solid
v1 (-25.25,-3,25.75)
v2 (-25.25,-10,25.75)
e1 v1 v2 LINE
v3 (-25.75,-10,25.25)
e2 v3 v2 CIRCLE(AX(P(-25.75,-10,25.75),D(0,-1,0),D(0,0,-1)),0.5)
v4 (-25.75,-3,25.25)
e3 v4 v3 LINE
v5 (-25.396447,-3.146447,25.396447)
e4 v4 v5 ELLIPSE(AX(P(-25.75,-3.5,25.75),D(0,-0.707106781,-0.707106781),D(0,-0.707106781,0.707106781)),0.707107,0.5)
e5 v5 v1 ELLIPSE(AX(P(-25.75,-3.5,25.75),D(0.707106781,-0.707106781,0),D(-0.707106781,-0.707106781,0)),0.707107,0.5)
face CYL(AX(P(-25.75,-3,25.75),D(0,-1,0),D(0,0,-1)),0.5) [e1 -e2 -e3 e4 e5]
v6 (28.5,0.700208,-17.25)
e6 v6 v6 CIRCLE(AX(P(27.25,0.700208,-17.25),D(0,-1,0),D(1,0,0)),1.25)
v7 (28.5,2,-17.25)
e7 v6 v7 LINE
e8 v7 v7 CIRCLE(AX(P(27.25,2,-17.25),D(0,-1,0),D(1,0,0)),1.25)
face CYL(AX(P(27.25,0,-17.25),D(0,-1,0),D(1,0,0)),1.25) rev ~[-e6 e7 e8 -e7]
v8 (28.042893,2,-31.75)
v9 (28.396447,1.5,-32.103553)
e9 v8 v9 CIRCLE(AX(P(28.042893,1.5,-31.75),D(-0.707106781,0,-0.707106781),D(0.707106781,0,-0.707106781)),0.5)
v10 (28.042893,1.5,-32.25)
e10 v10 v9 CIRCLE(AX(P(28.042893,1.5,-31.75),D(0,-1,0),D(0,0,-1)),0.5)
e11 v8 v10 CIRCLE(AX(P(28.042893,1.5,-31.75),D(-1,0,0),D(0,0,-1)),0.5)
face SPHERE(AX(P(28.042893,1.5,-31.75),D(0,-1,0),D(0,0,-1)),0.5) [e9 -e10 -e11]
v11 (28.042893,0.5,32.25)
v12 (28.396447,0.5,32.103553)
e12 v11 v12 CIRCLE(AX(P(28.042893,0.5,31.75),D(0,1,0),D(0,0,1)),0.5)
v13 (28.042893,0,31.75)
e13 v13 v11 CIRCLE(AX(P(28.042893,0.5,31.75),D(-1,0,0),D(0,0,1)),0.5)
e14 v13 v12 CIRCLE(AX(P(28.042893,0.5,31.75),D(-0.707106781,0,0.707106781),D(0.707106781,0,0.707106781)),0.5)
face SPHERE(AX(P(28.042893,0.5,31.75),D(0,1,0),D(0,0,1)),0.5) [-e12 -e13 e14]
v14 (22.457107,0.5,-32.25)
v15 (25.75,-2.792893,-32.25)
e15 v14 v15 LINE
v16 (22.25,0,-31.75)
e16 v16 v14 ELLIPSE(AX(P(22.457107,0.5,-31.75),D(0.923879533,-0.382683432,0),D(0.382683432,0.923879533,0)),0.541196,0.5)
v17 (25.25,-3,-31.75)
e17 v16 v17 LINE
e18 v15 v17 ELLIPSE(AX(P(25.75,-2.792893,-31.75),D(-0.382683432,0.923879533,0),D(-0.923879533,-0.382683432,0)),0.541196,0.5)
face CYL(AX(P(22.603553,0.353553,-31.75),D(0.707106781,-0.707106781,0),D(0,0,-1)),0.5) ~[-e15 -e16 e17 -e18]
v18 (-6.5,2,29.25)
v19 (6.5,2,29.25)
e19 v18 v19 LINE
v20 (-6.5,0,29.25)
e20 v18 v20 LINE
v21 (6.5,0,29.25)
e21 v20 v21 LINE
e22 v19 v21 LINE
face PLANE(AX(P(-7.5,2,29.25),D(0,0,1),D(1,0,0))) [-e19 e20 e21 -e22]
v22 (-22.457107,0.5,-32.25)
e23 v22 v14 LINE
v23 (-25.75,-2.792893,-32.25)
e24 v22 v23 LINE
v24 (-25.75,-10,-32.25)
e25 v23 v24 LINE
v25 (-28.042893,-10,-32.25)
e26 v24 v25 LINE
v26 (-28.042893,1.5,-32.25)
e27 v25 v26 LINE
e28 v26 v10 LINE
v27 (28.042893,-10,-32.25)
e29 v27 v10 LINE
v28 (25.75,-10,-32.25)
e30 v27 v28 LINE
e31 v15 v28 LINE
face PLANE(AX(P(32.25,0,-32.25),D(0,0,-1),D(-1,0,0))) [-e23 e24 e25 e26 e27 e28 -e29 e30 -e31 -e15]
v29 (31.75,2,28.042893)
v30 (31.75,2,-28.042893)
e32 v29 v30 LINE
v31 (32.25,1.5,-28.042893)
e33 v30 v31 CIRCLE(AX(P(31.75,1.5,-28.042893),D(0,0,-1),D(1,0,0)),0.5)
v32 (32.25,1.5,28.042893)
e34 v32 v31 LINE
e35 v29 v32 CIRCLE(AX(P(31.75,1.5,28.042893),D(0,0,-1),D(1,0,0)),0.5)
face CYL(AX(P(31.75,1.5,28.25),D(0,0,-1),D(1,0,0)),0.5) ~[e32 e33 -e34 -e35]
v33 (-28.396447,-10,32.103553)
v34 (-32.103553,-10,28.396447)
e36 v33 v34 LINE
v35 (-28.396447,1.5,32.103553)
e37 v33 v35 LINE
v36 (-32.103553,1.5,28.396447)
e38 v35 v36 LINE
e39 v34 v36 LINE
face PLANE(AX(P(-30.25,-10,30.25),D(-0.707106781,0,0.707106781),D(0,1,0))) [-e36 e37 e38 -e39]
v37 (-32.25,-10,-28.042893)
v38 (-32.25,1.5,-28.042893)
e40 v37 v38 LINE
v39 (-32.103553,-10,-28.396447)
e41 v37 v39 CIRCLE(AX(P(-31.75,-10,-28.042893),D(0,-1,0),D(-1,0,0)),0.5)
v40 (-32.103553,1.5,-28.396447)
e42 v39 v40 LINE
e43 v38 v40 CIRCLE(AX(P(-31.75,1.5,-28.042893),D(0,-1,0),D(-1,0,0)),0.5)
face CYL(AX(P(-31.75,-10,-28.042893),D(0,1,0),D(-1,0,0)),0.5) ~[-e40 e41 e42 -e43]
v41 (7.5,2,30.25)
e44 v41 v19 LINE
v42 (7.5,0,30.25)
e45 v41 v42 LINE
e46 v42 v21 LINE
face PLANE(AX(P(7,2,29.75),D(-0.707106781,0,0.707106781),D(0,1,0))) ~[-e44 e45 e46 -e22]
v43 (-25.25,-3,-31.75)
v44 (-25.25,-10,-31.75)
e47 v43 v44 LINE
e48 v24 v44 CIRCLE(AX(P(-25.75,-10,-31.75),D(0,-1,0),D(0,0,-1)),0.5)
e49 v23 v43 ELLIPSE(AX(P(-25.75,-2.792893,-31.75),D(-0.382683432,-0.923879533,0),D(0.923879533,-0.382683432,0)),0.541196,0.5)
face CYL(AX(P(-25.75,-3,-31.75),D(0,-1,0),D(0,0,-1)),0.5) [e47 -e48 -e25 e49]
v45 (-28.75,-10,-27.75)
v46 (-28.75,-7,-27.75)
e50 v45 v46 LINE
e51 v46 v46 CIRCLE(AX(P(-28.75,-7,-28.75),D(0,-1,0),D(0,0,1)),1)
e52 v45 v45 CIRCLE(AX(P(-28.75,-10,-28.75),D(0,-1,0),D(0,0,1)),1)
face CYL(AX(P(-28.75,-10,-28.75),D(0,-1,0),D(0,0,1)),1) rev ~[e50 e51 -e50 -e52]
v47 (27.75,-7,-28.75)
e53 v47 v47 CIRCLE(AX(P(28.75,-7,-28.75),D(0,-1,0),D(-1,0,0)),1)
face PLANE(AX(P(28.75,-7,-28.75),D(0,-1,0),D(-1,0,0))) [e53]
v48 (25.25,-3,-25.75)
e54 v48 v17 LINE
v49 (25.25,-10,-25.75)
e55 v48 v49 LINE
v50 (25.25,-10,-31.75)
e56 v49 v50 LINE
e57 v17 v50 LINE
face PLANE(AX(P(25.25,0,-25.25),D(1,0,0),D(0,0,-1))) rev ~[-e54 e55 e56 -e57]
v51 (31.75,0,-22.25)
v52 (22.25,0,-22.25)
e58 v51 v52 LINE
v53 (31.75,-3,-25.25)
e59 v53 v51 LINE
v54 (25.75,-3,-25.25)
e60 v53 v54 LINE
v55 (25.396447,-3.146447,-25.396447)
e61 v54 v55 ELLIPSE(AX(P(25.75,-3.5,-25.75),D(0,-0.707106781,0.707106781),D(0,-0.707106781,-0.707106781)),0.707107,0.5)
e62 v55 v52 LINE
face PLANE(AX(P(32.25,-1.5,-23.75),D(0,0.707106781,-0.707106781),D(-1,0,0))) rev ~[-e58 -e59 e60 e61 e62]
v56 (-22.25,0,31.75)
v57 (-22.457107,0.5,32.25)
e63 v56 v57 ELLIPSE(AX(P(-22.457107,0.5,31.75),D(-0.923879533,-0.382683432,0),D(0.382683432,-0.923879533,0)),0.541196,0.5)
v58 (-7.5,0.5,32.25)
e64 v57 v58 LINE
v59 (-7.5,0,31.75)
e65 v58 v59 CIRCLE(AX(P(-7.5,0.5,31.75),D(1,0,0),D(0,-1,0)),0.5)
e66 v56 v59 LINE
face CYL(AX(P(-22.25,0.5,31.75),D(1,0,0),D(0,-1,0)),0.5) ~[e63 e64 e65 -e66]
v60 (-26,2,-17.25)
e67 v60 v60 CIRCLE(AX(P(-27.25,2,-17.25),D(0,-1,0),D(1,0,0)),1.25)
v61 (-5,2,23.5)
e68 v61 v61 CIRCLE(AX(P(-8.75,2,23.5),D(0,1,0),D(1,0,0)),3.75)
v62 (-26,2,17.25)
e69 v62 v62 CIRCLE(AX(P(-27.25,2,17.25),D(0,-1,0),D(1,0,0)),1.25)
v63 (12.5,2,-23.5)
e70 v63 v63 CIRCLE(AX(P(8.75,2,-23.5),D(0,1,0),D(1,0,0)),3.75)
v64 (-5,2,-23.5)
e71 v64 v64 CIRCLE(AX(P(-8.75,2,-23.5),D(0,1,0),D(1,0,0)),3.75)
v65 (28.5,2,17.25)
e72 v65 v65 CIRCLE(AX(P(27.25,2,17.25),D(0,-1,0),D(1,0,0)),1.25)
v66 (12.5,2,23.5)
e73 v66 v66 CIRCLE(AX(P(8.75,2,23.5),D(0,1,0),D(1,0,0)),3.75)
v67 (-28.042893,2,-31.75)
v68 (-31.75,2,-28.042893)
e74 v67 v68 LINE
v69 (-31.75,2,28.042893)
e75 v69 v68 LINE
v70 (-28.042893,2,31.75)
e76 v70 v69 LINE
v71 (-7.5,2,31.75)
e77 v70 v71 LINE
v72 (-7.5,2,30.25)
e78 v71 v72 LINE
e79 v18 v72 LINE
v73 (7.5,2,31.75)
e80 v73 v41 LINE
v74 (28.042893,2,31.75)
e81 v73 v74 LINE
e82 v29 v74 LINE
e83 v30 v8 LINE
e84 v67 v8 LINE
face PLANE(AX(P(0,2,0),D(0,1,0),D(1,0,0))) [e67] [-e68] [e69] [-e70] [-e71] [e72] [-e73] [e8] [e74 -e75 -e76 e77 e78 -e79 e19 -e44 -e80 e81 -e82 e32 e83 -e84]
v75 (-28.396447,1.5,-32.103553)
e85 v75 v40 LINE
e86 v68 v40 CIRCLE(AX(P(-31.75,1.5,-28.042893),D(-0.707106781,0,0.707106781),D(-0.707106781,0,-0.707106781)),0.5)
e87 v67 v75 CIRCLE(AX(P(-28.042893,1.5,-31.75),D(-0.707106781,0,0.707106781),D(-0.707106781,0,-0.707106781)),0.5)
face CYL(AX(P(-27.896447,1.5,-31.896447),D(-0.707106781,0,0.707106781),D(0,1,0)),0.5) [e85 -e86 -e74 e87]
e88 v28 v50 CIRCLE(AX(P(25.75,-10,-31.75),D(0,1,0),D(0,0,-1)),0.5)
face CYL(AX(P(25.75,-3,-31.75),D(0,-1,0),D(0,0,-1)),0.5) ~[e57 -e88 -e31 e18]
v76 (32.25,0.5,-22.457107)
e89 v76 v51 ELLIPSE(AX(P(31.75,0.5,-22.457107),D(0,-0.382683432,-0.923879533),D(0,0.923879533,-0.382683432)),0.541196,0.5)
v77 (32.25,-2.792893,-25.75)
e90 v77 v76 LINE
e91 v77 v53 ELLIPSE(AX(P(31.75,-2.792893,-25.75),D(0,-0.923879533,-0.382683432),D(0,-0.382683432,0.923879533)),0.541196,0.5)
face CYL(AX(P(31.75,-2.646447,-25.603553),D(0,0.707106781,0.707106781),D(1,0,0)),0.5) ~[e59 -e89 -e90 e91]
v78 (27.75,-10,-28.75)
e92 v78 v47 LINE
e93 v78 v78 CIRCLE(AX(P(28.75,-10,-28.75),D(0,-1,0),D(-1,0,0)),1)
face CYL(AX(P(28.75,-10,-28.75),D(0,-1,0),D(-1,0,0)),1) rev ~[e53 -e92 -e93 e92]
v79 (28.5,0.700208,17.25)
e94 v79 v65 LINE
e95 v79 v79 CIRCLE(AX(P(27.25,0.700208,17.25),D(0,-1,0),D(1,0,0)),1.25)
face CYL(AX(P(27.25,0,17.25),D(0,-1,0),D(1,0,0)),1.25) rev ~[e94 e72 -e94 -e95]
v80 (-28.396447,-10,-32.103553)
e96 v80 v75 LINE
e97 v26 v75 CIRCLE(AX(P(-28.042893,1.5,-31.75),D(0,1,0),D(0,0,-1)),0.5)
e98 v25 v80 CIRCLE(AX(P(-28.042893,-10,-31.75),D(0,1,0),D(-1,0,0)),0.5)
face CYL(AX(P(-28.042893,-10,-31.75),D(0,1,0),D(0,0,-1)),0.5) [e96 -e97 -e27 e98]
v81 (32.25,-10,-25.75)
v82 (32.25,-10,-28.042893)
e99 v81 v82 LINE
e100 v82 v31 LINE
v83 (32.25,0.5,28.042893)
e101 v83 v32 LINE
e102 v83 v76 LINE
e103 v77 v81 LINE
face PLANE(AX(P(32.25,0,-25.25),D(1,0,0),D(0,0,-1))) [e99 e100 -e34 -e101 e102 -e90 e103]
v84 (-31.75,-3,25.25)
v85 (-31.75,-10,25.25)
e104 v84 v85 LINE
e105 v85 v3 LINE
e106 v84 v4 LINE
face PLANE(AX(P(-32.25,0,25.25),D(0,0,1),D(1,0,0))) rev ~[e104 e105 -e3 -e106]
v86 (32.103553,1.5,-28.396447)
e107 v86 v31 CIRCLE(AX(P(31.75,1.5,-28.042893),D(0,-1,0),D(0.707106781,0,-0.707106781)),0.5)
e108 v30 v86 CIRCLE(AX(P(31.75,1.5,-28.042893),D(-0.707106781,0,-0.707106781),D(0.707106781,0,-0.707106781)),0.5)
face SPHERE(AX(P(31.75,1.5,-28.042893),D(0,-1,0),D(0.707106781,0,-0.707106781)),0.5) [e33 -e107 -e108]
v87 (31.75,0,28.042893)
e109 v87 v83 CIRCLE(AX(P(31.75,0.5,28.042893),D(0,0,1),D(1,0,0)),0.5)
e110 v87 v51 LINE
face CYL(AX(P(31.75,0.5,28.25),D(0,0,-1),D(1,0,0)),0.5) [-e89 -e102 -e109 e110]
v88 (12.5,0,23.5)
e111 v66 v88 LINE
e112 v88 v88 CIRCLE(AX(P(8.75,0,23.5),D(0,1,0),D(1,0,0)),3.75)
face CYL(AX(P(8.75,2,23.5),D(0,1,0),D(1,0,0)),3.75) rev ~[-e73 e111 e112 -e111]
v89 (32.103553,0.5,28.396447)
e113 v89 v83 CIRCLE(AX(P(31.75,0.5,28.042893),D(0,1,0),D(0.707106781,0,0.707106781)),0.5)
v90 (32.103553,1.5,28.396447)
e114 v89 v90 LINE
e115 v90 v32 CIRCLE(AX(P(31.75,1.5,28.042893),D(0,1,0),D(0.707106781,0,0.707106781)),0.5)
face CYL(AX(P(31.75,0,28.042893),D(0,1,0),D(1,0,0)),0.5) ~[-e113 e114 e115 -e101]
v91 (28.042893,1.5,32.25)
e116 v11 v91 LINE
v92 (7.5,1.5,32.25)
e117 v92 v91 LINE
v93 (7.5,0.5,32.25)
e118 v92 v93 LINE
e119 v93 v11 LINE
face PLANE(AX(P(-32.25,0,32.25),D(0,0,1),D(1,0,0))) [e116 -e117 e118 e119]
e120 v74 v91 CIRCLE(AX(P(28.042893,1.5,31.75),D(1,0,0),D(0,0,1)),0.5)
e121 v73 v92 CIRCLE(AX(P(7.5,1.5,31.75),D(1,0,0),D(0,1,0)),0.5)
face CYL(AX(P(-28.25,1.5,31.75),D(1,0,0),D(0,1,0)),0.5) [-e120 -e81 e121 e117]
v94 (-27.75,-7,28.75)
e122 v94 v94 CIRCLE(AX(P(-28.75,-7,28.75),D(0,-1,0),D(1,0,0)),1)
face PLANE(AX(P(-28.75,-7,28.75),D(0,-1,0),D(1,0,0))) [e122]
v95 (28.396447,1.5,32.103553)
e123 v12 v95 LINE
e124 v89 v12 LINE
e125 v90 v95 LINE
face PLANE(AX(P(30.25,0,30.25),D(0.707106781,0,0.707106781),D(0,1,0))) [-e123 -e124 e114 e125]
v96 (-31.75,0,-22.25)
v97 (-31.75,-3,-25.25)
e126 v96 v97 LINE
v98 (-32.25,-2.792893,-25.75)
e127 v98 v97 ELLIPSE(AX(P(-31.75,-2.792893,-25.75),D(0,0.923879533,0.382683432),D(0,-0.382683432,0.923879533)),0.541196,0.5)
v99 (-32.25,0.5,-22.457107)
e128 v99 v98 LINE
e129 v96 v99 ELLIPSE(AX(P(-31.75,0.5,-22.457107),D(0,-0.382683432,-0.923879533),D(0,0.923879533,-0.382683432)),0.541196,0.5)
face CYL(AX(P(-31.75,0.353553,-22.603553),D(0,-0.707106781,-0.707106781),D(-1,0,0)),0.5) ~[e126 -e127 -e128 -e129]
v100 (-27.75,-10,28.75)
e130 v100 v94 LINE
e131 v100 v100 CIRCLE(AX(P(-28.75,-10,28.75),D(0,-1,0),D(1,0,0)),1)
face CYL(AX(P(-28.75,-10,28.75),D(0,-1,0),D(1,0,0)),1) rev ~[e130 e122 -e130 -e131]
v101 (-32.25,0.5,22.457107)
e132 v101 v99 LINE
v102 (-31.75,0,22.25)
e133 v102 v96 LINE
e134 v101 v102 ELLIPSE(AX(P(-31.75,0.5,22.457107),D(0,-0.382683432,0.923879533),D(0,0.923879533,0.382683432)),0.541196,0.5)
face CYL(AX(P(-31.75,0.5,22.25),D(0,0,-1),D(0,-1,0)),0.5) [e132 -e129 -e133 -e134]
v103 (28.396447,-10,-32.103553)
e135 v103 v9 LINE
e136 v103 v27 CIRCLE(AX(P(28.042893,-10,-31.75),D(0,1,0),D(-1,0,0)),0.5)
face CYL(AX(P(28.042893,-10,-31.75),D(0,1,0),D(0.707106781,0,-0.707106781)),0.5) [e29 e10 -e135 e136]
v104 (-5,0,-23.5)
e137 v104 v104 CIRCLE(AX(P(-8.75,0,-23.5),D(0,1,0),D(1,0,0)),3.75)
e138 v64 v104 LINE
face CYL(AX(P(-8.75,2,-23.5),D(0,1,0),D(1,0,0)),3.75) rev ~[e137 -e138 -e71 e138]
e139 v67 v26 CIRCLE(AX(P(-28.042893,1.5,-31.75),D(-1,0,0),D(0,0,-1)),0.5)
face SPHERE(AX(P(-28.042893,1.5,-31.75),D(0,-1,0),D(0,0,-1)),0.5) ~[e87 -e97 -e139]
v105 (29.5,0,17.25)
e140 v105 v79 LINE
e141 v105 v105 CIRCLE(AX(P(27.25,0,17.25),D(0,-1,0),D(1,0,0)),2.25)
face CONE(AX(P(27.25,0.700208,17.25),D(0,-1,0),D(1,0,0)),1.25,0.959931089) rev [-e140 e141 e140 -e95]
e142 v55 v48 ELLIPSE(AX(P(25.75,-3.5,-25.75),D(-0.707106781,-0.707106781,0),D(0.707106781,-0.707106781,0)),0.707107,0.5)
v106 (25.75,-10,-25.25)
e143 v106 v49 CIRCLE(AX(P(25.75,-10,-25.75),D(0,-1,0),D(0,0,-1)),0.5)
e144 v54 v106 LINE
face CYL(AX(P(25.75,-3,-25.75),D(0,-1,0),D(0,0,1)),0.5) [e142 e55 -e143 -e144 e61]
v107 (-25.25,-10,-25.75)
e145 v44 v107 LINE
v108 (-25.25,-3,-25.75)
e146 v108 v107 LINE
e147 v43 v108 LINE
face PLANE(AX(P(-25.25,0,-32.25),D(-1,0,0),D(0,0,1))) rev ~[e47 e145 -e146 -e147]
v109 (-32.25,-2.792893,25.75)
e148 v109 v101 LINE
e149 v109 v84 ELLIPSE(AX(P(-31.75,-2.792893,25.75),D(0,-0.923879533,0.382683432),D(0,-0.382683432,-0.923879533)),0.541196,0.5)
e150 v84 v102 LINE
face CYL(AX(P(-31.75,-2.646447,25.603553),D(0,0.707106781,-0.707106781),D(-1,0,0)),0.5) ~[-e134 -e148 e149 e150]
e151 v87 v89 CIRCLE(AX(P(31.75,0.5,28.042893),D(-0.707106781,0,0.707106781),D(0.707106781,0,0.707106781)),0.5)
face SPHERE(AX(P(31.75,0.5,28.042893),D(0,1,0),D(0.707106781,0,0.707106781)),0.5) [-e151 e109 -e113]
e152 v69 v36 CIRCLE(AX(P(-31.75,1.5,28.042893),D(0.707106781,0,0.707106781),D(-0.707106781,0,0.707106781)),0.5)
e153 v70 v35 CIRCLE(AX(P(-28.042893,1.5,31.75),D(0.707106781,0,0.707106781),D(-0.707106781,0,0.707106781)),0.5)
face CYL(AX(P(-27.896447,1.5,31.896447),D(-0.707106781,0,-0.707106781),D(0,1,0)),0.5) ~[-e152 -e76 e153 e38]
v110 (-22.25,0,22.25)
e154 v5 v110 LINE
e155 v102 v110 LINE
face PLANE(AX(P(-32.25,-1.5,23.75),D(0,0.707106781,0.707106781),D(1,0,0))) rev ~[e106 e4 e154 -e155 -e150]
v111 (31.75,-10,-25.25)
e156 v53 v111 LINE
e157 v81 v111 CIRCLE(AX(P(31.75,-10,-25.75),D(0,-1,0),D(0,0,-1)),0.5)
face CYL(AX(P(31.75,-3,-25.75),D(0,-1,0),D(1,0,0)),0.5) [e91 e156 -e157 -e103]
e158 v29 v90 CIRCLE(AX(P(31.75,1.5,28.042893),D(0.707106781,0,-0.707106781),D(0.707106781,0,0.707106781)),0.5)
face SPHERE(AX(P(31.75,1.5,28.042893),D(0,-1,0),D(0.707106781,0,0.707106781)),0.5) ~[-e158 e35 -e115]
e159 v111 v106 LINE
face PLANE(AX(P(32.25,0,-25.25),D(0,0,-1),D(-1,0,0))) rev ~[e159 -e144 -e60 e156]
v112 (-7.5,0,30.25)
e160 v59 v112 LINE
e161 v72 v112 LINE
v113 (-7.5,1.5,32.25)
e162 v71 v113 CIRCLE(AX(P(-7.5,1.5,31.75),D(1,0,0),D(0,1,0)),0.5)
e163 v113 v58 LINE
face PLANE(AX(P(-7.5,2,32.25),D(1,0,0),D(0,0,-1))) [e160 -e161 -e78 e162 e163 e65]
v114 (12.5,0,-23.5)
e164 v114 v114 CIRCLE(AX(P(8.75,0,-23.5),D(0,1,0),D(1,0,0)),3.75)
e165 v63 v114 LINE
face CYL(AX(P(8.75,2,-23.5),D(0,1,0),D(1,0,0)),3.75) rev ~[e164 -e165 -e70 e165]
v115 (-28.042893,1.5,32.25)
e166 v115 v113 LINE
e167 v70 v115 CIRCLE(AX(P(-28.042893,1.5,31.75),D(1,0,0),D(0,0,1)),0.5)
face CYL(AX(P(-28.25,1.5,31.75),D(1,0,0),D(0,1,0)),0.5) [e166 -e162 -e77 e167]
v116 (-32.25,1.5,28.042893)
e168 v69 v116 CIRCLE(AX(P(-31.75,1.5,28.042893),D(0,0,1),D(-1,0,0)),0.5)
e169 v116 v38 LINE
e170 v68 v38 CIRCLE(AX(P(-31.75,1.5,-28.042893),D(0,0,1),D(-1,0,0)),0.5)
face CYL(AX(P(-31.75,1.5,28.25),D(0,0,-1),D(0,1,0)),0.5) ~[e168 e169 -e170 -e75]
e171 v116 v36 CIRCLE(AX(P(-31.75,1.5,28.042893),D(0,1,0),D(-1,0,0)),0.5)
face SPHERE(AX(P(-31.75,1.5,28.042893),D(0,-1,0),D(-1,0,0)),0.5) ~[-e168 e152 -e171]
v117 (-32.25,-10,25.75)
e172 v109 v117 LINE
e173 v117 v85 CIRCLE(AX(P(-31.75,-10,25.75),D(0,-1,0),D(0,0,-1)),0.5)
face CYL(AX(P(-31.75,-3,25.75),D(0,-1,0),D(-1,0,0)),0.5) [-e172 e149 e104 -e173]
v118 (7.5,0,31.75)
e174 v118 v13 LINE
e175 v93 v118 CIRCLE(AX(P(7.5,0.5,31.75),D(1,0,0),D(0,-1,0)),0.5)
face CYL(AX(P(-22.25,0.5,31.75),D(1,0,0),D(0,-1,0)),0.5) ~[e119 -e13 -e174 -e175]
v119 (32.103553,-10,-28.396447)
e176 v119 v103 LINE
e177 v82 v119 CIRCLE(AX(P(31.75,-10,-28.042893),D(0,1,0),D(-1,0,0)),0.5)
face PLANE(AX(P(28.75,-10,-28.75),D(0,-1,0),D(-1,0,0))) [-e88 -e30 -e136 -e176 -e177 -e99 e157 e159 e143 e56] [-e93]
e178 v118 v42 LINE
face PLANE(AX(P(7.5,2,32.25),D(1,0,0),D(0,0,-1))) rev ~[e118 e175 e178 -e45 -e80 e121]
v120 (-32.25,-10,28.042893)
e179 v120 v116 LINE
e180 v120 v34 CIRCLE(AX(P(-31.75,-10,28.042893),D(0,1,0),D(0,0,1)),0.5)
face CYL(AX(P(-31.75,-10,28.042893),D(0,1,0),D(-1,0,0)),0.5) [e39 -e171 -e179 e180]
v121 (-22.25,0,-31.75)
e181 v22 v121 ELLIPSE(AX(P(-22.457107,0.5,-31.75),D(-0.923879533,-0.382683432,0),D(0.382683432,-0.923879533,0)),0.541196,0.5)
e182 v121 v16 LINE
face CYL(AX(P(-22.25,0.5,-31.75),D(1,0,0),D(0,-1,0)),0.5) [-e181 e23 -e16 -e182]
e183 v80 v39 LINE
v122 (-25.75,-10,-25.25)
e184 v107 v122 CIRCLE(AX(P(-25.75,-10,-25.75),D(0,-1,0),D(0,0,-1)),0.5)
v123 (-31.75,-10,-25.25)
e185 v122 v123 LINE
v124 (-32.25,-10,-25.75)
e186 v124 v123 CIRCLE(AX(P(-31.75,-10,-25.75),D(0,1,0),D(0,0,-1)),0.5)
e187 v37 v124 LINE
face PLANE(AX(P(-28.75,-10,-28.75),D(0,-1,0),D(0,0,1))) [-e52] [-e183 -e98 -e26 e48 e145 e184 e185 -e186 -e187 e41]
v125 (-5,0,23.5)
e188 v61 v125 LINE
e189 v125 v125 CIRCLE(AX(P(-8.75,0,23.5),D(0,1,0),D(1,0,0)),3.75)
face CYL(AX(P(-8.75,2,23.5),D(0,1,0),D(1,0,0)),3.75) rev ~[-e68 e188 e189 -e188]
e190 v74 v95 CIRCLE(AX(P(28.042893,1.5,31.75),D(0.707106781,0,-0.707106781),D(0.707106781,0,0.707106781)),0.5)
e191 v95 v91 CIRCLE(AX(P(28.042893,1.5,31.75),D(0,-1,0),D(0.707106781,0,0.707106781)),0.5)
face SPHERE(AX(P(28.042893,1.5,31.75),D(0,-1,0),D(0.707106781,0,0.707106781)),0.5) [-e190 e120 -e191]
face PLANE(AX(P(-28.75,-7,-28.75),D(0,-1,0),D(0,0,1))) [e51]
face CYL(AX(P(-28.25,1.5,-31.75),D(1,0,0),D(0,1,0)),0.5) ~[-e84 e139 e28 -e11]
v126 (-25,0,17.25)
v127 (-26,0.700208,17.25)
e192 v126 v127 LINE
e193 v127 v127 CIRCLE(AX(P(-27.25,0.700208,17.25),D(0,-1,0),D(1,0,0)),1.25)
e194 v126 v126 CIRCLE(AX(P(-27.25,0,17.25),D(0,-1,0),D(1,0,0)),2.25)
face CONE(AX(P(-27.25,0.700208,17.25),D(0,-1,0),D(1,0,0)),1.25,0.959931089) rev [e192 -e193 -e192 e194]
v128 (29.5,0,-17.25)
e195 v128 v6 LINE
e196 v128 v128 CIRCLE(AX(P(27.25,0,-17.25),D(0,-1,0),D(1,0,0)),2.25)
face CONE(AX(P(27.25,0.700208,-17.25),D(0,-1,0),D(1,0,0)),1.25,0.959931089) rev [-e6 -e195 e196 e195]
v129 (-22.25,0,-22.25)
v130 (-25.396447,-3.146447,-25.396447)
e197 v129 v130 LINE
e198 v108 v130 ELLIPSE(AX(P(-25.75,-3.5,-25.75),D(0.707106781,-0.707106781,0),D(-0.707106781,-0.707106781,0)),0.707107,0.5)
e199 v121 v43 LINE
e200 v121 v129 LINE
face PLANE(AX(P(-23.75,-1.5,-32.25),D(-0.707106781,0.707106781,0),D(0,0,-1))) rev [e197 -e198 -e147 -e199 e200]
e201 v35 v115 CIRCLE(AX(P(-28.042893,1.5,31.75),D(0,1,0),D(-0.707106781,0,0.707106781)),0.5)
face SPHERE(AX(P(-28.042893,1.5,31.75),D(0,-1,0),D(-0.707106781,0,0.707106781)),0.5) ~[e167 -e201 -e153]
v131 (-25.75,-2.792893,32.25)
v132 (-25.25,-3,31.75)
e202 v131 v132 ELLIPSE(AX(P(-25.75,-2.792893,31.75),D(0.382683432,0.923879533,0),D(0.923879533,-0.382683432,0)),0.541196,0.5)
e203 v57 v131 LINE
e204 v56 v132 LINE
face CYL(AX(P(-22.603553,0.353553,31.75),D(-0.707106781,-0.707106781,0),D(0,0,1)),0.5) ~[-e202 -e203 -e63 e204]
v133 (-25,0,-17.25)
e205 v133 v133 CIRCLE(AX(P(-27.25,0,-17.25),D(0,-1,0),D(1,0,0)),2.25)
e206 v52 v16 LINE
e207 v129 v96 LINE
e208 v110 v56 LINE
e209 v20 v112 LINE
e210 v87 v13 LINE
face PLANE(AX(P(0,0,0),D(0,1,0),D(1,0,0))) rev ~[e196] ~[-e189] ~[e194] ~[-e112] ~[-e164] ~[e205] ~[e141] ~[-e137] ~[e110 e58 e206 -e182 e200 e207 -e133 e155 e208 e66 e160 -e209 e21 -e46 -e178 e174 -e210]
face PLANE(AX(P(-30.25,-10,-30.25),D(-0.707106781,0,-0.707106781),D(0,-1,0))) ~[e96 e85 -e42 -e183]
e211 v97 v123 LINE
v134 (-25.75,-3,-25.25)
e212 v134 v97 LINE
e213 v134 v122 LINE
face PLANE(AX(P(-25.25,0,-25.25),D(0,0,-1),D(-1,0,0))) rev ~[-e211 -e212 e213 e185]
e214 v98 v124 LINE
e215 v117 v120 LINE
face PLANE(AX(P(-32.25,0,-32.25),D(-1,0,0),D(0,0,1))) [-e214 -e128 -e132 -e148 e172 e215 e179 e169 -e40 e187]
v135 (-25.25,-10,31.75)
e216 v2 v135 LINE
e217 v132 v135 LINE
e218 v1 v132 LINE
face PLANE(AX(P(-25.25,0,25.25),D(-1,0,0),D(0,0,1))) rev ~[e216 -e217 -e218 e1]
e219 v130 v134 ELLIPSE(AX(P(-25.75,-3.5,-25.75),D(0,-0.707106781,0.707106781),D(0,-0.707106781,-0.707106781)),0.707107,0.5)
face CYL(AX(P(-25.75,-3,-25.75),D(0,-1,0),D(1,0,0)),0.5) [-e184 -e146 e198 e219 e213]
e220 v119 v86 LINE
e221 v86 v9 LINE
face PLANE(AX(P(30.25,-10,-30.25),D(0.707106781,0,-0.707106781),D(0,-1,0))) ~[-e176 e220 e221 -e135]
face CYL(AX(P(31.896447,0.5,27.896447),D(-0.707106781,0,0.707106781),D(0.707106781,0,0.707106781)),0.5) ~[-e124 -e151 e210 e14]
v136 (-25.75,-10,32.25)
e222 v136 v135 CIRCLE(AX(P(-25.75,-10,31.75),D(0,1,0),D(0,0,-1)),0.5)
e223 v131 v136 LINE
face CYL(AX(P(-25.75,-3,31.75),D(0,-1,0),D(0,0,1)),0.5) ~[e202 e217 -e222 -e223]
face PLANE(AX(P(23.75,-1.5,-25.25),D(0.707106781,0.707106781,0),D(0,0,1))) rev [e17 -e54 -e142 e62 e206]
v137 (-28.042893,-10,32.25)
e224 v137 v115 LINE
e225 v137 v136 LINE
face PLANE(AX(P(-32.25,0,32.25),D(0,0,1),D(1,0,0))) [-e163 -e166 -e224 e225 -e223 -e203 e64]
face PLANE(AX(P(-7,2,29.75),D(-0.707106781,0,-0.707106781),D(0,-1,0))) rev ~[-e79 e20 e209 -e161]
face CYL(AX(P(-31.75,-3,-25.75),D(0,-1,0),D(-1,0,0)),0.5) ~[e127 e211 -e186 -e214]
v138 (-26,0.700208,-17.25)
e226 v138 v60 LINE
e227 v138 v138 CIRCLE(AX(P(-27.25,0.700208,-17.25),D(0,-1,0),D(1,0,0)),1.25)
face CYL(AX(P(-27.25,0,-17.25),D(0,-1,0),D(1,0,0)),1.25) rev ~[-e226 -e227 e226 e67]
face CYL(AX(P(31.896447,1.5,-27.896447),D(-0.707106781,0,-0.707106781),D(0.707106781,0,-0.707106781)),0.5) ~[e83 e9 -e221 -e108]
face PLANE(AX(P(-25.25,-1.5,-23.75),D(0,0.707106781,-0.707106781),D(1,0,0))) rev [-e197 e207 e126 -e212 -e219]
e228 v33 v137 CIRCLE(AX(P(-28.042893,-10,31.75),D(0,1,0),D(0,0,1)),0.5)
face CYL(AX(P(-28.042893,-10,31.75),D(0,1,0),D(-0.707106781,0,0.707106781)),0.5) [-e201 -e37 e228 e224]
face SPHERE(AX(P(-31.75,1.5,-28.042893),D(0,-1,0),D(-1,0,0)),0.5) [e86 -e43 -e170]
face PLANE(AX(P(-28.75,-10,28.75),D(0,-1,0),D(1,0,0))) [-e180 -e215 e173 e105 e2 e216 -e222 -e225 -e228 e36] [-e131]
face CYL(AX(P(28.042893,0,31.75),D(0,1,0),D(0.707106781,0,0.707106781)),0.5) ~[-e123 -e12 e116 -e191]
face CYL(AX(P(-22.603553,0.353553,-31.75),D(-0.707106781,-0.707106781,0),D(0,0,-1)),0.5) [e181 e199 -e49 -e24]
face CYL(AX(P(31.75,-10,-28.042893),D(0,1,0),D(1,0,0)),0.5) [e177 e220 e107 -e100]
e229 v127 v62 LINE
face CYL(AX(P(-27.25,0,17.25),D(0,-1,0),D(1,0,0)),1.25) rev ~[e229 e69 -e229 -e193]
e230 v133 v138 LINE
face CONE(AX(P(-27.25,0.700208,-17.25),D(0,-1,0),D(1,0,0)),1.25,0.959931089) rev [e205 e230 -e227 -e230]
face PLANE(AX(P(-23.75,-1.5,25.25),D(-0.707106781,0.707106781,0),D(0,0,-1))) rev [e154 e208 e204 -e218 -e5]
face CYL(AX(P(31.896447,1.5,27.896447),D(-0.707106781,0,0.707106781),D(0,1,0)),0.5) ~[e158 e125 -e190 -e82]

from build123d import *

# Parameters (mm, degrees)
SKETCH2_W                    = 64.5
SKETCH2_H                    = 64.5
BOSS_EXTRUDE1_DEPTH          = 2
SKETCH3_W                    = 7
SKETCH3_H                    = 7
BOSS_EXTRUDE2_DEPTH          = 10
SKETCH6_R                    = 1
CUT_EXTRUDE2_DEPTH           = 3
CHAMFER3_SIZE                = 3
CIRPATTERN1_COUNT            = 3
CIRPATTERN1_ANGLE            = 180
CHAMFER3_OF_CIRPATTERN1_SIZE = 3
CHAMFER8_SIZE                = 4
FILLET4_R                    = 0.5
SKETCH12_W                   = 15
SKETCH12_H                   = 3
CUT_EXTRUDE3_DEPTH           = 10
CHAMFER9_SIZE                = 1
SKETCH13_R                   = 3.75
CUT_EXTRUDE4_DEPTH           = 10
SKETCH16_R                   = 1.25
CUT_EXTRUDE6_DEPTH           = 10
CHAMFER10_SIZE               = 1
CHAMFER10_SIZE2              = 0.700207538


with BuildPart() as part:
    # Sketch2 → Boss-Extrude1 (new body)
    with BuildSketch(Plane(origin=(0, 0, 0), x_dir=(1, 0, 0), z_dir=(0, 1, 0))):
        Rectangle(SKETCH2_W, SKETCH2_H)
    extrude(amount=BOSS_EXTRUDE1_DEPTH)

    # Sketch3 → Boss-Extrude2 (add)
    with BuildSketch(Plane.XZ):
        with Locations((-28.75, 28.75)):
            Rectangle(SKETCH3_W, SKETCH3_H)
    boss_extrude2 = extrude(amount=BOSS_EXTRUDE2_DEPTH)

    # Sketch6 → Cut-Extrude2 (cut)
    with BuildSketch(Plane.XZ.offset(10)):
        with Locations((-28.75, 28.75)):
            Circle(SKETCH6_R)
    cut_extrude2 = extrude(amount=-CUT_EXTRUDE2_DEPTH, mode=Mode.SUBTRACT)

    # Chamfer3
    chamfer3_edges = [part.edges().sort_by_distance(p)[0] for p in [
        (-28.75, 0, 25.25),
        (-25.25, 0, 28.75),
    ]]
    chamfer(chamfer3_edges, length=CHAMFER3_SIZE)

    # CirPattern1: Boss-Extrude2, Cut-Extrude2 ×3 about axis
    cirpattern1_axis = Axis((0, 0, 0), (0, -1, 0))
    for i in range(1, CIRPATTERN1_COUNT):
        add(boss_extrude2.rotate(cirpattern1_axis, i * CIRPATTERN1_ANGLE / (CIRPATTERN1_COUNT - 1)))
        add(cut_extrude2.rotate(cirpattern1_axis, i * CIRPATTERN1_ANGLE / (CIRPATTERN1_COUNT - 1)), mode=Mode.SUBTRACT)

    # Chamfer3 of CirPattern1
    chamfer3_of_cirpattern1_edges = [part.edges().sort_by_distance(p)[0] for p in [
        (-25.25, 0, -28.75),
        (-28.75, 0, -25.25),
        (28.75, 0, -25.25),
        (25.25, 0, -28.75),
    ]]
    chamfer(chamfer3_of_cirpattern1_edges, length=CHAMFER3_OF_CIRPATTERN1_SIZE)

    # Chamfer8
    chamfer8_edges = [part.edges().sort_by_distance(p)[0] for p in [
        (32.25, 1, 32.25),
        (-32.25, -4, 32.25),
        (-32.25, -4, -32.25),
        (32.25, -4, -32.25),
    ]]
    chamfer(chamfer8_edges, length=CHAMFER8_SIZE)

    # Fillet4
    fillet4_edges = [part.edges().sort_by_distance(p)[0] for p in [
        (30.25, 0, 30.25),
        (0, 2, 32.25),
        (-28.25, -4, 32.25),
        (28.25, 1, 32.25),
        (0, 2, -32.25),
        (-32.25, 2, 0),
        (-30.25, 2, 30.25),
        (-30.25, 2, -30.25),
        (30.25, 2, -30.25),
        (30.25, 2, 30.25),
        (-28.25, -4, -32.25),
        (28.25, -4, -32.25),
        (-32.25, -4, 28.25),
        (-32.25, -4, -28.25),
        (-32.25, -6.5, 25.25),
        (-25.25, -6.5, 25.25),
        (-25.25, -6.5, 32.25),
        (3, 0, 32.25),
        (-23.75, -1.5, 32.25),
        (-32.25, -1.5, 23.75),
        (-25.25, -6.5, -32.25),
        (-25.25, -6.5, -25.25),
        (-32.25, -6.5, -25.25),
        (32.25, -6.5, -25.25),
        (25.25, -6.5, -25.25),
        (25.25, -6.5, -32.25),
        (-32.25, 0, 0),
        (-32.25, -1.5, -23.75),
        (-23.75, -1.5, -32.25),
        (0, 0, -32.25),
        (23.75, -1.5, -32.25),
        (32.25, -1.5, -23.75),
        (32.25, 0, 3),
        (32.25, 2, 0),
        (32.25, -4, -28.25),
        (32.25, 1, 28.25),
    ]]
    fillet(fillet4_edges, radius=FILLET4_R)

    # Sketch12 → Cut-Extrude3 (cut)
    with BuildSketch(Plane(origin=(0, 2, 0), x_dir=(1, 0, 0), z_dir=(0, 1, 0))):
        with Locations((0, -30.75)):
            Rectangle(SKETCH12_W, SKETCH12_H)
    extrude(amount=-CUT_EXTRUDE3_DEPTH, mode=Mode.SUBTRACT)

    # Chamfer9
    chamfer9_edges = [part.edges().sort_by_distance(p)[0] for p in [
        (-7.5, 1, 29.25),
        (7.5, 1, 29.25),
    ]]
    chamfer(chamfer9_edges, length=CHAMFER9_SIZE)

    # Sketch13 → Cut-Extrude4 (cut)
    with BuildSketch(Plane(origin=(0, 2, 0), x_dir=(1, 0, 0), z_dir=(0, 1, 0))):
        with Locations((8.75, -23.5)):
            Circle(SKETCH13_R)
        with Locations((-8.75, -23.5)):
            Circle(SKETCH13_R)
        with Locations((-8.75, 23.5)):
            Circle(SKETCH13_R)
        with Locations((8.75, 23.5)):
            Circle(SKETCH13_R)
    extrude(amount=-CUT_EXTRUDE4_DEPTH, mode=Mode.SUBTRACT)

    # Sketch16 → Cut-Extrude6 (cut)
    with BuildSketch(Plane.XZ):
        with Locations((-27.25, -17.25)):
            Circle(SKETCH16_R)
        with Locations((-27.25, 17.25)):
            Circle(SKETCH16_R)
        with Locations((27.25, -17.25)):
            Circle(SKETCH16_R)
        with Locations((27.25, 17.25)):
            Circle(SKETCH16_R)
    extrude(amount=-CUT_EXTRUDE6_DEPTH, mode=Mode.SUBTRACT)

    # Chamfer10
    chamfer10_edges = [part.edges().sort_by_distance(p)[0] for p in [
        (-28.5, 0, 17.25),
        (26, 0, -17.25),
        (26, 0, 17.25),
        (-28.5, 0, -17.25),
    ]]
    chamfer10_side = [part.faces().sort_by_distance(p)[0] for p in [
        (0.632372559, 0, 0.31600784),
    ]]
    chamfer(chamfer10_edges, length=CHAMFER10_SIZE, length2=CHAMFER10_SIZE2, reference=chamfer10_side[0])


solid = part.part
